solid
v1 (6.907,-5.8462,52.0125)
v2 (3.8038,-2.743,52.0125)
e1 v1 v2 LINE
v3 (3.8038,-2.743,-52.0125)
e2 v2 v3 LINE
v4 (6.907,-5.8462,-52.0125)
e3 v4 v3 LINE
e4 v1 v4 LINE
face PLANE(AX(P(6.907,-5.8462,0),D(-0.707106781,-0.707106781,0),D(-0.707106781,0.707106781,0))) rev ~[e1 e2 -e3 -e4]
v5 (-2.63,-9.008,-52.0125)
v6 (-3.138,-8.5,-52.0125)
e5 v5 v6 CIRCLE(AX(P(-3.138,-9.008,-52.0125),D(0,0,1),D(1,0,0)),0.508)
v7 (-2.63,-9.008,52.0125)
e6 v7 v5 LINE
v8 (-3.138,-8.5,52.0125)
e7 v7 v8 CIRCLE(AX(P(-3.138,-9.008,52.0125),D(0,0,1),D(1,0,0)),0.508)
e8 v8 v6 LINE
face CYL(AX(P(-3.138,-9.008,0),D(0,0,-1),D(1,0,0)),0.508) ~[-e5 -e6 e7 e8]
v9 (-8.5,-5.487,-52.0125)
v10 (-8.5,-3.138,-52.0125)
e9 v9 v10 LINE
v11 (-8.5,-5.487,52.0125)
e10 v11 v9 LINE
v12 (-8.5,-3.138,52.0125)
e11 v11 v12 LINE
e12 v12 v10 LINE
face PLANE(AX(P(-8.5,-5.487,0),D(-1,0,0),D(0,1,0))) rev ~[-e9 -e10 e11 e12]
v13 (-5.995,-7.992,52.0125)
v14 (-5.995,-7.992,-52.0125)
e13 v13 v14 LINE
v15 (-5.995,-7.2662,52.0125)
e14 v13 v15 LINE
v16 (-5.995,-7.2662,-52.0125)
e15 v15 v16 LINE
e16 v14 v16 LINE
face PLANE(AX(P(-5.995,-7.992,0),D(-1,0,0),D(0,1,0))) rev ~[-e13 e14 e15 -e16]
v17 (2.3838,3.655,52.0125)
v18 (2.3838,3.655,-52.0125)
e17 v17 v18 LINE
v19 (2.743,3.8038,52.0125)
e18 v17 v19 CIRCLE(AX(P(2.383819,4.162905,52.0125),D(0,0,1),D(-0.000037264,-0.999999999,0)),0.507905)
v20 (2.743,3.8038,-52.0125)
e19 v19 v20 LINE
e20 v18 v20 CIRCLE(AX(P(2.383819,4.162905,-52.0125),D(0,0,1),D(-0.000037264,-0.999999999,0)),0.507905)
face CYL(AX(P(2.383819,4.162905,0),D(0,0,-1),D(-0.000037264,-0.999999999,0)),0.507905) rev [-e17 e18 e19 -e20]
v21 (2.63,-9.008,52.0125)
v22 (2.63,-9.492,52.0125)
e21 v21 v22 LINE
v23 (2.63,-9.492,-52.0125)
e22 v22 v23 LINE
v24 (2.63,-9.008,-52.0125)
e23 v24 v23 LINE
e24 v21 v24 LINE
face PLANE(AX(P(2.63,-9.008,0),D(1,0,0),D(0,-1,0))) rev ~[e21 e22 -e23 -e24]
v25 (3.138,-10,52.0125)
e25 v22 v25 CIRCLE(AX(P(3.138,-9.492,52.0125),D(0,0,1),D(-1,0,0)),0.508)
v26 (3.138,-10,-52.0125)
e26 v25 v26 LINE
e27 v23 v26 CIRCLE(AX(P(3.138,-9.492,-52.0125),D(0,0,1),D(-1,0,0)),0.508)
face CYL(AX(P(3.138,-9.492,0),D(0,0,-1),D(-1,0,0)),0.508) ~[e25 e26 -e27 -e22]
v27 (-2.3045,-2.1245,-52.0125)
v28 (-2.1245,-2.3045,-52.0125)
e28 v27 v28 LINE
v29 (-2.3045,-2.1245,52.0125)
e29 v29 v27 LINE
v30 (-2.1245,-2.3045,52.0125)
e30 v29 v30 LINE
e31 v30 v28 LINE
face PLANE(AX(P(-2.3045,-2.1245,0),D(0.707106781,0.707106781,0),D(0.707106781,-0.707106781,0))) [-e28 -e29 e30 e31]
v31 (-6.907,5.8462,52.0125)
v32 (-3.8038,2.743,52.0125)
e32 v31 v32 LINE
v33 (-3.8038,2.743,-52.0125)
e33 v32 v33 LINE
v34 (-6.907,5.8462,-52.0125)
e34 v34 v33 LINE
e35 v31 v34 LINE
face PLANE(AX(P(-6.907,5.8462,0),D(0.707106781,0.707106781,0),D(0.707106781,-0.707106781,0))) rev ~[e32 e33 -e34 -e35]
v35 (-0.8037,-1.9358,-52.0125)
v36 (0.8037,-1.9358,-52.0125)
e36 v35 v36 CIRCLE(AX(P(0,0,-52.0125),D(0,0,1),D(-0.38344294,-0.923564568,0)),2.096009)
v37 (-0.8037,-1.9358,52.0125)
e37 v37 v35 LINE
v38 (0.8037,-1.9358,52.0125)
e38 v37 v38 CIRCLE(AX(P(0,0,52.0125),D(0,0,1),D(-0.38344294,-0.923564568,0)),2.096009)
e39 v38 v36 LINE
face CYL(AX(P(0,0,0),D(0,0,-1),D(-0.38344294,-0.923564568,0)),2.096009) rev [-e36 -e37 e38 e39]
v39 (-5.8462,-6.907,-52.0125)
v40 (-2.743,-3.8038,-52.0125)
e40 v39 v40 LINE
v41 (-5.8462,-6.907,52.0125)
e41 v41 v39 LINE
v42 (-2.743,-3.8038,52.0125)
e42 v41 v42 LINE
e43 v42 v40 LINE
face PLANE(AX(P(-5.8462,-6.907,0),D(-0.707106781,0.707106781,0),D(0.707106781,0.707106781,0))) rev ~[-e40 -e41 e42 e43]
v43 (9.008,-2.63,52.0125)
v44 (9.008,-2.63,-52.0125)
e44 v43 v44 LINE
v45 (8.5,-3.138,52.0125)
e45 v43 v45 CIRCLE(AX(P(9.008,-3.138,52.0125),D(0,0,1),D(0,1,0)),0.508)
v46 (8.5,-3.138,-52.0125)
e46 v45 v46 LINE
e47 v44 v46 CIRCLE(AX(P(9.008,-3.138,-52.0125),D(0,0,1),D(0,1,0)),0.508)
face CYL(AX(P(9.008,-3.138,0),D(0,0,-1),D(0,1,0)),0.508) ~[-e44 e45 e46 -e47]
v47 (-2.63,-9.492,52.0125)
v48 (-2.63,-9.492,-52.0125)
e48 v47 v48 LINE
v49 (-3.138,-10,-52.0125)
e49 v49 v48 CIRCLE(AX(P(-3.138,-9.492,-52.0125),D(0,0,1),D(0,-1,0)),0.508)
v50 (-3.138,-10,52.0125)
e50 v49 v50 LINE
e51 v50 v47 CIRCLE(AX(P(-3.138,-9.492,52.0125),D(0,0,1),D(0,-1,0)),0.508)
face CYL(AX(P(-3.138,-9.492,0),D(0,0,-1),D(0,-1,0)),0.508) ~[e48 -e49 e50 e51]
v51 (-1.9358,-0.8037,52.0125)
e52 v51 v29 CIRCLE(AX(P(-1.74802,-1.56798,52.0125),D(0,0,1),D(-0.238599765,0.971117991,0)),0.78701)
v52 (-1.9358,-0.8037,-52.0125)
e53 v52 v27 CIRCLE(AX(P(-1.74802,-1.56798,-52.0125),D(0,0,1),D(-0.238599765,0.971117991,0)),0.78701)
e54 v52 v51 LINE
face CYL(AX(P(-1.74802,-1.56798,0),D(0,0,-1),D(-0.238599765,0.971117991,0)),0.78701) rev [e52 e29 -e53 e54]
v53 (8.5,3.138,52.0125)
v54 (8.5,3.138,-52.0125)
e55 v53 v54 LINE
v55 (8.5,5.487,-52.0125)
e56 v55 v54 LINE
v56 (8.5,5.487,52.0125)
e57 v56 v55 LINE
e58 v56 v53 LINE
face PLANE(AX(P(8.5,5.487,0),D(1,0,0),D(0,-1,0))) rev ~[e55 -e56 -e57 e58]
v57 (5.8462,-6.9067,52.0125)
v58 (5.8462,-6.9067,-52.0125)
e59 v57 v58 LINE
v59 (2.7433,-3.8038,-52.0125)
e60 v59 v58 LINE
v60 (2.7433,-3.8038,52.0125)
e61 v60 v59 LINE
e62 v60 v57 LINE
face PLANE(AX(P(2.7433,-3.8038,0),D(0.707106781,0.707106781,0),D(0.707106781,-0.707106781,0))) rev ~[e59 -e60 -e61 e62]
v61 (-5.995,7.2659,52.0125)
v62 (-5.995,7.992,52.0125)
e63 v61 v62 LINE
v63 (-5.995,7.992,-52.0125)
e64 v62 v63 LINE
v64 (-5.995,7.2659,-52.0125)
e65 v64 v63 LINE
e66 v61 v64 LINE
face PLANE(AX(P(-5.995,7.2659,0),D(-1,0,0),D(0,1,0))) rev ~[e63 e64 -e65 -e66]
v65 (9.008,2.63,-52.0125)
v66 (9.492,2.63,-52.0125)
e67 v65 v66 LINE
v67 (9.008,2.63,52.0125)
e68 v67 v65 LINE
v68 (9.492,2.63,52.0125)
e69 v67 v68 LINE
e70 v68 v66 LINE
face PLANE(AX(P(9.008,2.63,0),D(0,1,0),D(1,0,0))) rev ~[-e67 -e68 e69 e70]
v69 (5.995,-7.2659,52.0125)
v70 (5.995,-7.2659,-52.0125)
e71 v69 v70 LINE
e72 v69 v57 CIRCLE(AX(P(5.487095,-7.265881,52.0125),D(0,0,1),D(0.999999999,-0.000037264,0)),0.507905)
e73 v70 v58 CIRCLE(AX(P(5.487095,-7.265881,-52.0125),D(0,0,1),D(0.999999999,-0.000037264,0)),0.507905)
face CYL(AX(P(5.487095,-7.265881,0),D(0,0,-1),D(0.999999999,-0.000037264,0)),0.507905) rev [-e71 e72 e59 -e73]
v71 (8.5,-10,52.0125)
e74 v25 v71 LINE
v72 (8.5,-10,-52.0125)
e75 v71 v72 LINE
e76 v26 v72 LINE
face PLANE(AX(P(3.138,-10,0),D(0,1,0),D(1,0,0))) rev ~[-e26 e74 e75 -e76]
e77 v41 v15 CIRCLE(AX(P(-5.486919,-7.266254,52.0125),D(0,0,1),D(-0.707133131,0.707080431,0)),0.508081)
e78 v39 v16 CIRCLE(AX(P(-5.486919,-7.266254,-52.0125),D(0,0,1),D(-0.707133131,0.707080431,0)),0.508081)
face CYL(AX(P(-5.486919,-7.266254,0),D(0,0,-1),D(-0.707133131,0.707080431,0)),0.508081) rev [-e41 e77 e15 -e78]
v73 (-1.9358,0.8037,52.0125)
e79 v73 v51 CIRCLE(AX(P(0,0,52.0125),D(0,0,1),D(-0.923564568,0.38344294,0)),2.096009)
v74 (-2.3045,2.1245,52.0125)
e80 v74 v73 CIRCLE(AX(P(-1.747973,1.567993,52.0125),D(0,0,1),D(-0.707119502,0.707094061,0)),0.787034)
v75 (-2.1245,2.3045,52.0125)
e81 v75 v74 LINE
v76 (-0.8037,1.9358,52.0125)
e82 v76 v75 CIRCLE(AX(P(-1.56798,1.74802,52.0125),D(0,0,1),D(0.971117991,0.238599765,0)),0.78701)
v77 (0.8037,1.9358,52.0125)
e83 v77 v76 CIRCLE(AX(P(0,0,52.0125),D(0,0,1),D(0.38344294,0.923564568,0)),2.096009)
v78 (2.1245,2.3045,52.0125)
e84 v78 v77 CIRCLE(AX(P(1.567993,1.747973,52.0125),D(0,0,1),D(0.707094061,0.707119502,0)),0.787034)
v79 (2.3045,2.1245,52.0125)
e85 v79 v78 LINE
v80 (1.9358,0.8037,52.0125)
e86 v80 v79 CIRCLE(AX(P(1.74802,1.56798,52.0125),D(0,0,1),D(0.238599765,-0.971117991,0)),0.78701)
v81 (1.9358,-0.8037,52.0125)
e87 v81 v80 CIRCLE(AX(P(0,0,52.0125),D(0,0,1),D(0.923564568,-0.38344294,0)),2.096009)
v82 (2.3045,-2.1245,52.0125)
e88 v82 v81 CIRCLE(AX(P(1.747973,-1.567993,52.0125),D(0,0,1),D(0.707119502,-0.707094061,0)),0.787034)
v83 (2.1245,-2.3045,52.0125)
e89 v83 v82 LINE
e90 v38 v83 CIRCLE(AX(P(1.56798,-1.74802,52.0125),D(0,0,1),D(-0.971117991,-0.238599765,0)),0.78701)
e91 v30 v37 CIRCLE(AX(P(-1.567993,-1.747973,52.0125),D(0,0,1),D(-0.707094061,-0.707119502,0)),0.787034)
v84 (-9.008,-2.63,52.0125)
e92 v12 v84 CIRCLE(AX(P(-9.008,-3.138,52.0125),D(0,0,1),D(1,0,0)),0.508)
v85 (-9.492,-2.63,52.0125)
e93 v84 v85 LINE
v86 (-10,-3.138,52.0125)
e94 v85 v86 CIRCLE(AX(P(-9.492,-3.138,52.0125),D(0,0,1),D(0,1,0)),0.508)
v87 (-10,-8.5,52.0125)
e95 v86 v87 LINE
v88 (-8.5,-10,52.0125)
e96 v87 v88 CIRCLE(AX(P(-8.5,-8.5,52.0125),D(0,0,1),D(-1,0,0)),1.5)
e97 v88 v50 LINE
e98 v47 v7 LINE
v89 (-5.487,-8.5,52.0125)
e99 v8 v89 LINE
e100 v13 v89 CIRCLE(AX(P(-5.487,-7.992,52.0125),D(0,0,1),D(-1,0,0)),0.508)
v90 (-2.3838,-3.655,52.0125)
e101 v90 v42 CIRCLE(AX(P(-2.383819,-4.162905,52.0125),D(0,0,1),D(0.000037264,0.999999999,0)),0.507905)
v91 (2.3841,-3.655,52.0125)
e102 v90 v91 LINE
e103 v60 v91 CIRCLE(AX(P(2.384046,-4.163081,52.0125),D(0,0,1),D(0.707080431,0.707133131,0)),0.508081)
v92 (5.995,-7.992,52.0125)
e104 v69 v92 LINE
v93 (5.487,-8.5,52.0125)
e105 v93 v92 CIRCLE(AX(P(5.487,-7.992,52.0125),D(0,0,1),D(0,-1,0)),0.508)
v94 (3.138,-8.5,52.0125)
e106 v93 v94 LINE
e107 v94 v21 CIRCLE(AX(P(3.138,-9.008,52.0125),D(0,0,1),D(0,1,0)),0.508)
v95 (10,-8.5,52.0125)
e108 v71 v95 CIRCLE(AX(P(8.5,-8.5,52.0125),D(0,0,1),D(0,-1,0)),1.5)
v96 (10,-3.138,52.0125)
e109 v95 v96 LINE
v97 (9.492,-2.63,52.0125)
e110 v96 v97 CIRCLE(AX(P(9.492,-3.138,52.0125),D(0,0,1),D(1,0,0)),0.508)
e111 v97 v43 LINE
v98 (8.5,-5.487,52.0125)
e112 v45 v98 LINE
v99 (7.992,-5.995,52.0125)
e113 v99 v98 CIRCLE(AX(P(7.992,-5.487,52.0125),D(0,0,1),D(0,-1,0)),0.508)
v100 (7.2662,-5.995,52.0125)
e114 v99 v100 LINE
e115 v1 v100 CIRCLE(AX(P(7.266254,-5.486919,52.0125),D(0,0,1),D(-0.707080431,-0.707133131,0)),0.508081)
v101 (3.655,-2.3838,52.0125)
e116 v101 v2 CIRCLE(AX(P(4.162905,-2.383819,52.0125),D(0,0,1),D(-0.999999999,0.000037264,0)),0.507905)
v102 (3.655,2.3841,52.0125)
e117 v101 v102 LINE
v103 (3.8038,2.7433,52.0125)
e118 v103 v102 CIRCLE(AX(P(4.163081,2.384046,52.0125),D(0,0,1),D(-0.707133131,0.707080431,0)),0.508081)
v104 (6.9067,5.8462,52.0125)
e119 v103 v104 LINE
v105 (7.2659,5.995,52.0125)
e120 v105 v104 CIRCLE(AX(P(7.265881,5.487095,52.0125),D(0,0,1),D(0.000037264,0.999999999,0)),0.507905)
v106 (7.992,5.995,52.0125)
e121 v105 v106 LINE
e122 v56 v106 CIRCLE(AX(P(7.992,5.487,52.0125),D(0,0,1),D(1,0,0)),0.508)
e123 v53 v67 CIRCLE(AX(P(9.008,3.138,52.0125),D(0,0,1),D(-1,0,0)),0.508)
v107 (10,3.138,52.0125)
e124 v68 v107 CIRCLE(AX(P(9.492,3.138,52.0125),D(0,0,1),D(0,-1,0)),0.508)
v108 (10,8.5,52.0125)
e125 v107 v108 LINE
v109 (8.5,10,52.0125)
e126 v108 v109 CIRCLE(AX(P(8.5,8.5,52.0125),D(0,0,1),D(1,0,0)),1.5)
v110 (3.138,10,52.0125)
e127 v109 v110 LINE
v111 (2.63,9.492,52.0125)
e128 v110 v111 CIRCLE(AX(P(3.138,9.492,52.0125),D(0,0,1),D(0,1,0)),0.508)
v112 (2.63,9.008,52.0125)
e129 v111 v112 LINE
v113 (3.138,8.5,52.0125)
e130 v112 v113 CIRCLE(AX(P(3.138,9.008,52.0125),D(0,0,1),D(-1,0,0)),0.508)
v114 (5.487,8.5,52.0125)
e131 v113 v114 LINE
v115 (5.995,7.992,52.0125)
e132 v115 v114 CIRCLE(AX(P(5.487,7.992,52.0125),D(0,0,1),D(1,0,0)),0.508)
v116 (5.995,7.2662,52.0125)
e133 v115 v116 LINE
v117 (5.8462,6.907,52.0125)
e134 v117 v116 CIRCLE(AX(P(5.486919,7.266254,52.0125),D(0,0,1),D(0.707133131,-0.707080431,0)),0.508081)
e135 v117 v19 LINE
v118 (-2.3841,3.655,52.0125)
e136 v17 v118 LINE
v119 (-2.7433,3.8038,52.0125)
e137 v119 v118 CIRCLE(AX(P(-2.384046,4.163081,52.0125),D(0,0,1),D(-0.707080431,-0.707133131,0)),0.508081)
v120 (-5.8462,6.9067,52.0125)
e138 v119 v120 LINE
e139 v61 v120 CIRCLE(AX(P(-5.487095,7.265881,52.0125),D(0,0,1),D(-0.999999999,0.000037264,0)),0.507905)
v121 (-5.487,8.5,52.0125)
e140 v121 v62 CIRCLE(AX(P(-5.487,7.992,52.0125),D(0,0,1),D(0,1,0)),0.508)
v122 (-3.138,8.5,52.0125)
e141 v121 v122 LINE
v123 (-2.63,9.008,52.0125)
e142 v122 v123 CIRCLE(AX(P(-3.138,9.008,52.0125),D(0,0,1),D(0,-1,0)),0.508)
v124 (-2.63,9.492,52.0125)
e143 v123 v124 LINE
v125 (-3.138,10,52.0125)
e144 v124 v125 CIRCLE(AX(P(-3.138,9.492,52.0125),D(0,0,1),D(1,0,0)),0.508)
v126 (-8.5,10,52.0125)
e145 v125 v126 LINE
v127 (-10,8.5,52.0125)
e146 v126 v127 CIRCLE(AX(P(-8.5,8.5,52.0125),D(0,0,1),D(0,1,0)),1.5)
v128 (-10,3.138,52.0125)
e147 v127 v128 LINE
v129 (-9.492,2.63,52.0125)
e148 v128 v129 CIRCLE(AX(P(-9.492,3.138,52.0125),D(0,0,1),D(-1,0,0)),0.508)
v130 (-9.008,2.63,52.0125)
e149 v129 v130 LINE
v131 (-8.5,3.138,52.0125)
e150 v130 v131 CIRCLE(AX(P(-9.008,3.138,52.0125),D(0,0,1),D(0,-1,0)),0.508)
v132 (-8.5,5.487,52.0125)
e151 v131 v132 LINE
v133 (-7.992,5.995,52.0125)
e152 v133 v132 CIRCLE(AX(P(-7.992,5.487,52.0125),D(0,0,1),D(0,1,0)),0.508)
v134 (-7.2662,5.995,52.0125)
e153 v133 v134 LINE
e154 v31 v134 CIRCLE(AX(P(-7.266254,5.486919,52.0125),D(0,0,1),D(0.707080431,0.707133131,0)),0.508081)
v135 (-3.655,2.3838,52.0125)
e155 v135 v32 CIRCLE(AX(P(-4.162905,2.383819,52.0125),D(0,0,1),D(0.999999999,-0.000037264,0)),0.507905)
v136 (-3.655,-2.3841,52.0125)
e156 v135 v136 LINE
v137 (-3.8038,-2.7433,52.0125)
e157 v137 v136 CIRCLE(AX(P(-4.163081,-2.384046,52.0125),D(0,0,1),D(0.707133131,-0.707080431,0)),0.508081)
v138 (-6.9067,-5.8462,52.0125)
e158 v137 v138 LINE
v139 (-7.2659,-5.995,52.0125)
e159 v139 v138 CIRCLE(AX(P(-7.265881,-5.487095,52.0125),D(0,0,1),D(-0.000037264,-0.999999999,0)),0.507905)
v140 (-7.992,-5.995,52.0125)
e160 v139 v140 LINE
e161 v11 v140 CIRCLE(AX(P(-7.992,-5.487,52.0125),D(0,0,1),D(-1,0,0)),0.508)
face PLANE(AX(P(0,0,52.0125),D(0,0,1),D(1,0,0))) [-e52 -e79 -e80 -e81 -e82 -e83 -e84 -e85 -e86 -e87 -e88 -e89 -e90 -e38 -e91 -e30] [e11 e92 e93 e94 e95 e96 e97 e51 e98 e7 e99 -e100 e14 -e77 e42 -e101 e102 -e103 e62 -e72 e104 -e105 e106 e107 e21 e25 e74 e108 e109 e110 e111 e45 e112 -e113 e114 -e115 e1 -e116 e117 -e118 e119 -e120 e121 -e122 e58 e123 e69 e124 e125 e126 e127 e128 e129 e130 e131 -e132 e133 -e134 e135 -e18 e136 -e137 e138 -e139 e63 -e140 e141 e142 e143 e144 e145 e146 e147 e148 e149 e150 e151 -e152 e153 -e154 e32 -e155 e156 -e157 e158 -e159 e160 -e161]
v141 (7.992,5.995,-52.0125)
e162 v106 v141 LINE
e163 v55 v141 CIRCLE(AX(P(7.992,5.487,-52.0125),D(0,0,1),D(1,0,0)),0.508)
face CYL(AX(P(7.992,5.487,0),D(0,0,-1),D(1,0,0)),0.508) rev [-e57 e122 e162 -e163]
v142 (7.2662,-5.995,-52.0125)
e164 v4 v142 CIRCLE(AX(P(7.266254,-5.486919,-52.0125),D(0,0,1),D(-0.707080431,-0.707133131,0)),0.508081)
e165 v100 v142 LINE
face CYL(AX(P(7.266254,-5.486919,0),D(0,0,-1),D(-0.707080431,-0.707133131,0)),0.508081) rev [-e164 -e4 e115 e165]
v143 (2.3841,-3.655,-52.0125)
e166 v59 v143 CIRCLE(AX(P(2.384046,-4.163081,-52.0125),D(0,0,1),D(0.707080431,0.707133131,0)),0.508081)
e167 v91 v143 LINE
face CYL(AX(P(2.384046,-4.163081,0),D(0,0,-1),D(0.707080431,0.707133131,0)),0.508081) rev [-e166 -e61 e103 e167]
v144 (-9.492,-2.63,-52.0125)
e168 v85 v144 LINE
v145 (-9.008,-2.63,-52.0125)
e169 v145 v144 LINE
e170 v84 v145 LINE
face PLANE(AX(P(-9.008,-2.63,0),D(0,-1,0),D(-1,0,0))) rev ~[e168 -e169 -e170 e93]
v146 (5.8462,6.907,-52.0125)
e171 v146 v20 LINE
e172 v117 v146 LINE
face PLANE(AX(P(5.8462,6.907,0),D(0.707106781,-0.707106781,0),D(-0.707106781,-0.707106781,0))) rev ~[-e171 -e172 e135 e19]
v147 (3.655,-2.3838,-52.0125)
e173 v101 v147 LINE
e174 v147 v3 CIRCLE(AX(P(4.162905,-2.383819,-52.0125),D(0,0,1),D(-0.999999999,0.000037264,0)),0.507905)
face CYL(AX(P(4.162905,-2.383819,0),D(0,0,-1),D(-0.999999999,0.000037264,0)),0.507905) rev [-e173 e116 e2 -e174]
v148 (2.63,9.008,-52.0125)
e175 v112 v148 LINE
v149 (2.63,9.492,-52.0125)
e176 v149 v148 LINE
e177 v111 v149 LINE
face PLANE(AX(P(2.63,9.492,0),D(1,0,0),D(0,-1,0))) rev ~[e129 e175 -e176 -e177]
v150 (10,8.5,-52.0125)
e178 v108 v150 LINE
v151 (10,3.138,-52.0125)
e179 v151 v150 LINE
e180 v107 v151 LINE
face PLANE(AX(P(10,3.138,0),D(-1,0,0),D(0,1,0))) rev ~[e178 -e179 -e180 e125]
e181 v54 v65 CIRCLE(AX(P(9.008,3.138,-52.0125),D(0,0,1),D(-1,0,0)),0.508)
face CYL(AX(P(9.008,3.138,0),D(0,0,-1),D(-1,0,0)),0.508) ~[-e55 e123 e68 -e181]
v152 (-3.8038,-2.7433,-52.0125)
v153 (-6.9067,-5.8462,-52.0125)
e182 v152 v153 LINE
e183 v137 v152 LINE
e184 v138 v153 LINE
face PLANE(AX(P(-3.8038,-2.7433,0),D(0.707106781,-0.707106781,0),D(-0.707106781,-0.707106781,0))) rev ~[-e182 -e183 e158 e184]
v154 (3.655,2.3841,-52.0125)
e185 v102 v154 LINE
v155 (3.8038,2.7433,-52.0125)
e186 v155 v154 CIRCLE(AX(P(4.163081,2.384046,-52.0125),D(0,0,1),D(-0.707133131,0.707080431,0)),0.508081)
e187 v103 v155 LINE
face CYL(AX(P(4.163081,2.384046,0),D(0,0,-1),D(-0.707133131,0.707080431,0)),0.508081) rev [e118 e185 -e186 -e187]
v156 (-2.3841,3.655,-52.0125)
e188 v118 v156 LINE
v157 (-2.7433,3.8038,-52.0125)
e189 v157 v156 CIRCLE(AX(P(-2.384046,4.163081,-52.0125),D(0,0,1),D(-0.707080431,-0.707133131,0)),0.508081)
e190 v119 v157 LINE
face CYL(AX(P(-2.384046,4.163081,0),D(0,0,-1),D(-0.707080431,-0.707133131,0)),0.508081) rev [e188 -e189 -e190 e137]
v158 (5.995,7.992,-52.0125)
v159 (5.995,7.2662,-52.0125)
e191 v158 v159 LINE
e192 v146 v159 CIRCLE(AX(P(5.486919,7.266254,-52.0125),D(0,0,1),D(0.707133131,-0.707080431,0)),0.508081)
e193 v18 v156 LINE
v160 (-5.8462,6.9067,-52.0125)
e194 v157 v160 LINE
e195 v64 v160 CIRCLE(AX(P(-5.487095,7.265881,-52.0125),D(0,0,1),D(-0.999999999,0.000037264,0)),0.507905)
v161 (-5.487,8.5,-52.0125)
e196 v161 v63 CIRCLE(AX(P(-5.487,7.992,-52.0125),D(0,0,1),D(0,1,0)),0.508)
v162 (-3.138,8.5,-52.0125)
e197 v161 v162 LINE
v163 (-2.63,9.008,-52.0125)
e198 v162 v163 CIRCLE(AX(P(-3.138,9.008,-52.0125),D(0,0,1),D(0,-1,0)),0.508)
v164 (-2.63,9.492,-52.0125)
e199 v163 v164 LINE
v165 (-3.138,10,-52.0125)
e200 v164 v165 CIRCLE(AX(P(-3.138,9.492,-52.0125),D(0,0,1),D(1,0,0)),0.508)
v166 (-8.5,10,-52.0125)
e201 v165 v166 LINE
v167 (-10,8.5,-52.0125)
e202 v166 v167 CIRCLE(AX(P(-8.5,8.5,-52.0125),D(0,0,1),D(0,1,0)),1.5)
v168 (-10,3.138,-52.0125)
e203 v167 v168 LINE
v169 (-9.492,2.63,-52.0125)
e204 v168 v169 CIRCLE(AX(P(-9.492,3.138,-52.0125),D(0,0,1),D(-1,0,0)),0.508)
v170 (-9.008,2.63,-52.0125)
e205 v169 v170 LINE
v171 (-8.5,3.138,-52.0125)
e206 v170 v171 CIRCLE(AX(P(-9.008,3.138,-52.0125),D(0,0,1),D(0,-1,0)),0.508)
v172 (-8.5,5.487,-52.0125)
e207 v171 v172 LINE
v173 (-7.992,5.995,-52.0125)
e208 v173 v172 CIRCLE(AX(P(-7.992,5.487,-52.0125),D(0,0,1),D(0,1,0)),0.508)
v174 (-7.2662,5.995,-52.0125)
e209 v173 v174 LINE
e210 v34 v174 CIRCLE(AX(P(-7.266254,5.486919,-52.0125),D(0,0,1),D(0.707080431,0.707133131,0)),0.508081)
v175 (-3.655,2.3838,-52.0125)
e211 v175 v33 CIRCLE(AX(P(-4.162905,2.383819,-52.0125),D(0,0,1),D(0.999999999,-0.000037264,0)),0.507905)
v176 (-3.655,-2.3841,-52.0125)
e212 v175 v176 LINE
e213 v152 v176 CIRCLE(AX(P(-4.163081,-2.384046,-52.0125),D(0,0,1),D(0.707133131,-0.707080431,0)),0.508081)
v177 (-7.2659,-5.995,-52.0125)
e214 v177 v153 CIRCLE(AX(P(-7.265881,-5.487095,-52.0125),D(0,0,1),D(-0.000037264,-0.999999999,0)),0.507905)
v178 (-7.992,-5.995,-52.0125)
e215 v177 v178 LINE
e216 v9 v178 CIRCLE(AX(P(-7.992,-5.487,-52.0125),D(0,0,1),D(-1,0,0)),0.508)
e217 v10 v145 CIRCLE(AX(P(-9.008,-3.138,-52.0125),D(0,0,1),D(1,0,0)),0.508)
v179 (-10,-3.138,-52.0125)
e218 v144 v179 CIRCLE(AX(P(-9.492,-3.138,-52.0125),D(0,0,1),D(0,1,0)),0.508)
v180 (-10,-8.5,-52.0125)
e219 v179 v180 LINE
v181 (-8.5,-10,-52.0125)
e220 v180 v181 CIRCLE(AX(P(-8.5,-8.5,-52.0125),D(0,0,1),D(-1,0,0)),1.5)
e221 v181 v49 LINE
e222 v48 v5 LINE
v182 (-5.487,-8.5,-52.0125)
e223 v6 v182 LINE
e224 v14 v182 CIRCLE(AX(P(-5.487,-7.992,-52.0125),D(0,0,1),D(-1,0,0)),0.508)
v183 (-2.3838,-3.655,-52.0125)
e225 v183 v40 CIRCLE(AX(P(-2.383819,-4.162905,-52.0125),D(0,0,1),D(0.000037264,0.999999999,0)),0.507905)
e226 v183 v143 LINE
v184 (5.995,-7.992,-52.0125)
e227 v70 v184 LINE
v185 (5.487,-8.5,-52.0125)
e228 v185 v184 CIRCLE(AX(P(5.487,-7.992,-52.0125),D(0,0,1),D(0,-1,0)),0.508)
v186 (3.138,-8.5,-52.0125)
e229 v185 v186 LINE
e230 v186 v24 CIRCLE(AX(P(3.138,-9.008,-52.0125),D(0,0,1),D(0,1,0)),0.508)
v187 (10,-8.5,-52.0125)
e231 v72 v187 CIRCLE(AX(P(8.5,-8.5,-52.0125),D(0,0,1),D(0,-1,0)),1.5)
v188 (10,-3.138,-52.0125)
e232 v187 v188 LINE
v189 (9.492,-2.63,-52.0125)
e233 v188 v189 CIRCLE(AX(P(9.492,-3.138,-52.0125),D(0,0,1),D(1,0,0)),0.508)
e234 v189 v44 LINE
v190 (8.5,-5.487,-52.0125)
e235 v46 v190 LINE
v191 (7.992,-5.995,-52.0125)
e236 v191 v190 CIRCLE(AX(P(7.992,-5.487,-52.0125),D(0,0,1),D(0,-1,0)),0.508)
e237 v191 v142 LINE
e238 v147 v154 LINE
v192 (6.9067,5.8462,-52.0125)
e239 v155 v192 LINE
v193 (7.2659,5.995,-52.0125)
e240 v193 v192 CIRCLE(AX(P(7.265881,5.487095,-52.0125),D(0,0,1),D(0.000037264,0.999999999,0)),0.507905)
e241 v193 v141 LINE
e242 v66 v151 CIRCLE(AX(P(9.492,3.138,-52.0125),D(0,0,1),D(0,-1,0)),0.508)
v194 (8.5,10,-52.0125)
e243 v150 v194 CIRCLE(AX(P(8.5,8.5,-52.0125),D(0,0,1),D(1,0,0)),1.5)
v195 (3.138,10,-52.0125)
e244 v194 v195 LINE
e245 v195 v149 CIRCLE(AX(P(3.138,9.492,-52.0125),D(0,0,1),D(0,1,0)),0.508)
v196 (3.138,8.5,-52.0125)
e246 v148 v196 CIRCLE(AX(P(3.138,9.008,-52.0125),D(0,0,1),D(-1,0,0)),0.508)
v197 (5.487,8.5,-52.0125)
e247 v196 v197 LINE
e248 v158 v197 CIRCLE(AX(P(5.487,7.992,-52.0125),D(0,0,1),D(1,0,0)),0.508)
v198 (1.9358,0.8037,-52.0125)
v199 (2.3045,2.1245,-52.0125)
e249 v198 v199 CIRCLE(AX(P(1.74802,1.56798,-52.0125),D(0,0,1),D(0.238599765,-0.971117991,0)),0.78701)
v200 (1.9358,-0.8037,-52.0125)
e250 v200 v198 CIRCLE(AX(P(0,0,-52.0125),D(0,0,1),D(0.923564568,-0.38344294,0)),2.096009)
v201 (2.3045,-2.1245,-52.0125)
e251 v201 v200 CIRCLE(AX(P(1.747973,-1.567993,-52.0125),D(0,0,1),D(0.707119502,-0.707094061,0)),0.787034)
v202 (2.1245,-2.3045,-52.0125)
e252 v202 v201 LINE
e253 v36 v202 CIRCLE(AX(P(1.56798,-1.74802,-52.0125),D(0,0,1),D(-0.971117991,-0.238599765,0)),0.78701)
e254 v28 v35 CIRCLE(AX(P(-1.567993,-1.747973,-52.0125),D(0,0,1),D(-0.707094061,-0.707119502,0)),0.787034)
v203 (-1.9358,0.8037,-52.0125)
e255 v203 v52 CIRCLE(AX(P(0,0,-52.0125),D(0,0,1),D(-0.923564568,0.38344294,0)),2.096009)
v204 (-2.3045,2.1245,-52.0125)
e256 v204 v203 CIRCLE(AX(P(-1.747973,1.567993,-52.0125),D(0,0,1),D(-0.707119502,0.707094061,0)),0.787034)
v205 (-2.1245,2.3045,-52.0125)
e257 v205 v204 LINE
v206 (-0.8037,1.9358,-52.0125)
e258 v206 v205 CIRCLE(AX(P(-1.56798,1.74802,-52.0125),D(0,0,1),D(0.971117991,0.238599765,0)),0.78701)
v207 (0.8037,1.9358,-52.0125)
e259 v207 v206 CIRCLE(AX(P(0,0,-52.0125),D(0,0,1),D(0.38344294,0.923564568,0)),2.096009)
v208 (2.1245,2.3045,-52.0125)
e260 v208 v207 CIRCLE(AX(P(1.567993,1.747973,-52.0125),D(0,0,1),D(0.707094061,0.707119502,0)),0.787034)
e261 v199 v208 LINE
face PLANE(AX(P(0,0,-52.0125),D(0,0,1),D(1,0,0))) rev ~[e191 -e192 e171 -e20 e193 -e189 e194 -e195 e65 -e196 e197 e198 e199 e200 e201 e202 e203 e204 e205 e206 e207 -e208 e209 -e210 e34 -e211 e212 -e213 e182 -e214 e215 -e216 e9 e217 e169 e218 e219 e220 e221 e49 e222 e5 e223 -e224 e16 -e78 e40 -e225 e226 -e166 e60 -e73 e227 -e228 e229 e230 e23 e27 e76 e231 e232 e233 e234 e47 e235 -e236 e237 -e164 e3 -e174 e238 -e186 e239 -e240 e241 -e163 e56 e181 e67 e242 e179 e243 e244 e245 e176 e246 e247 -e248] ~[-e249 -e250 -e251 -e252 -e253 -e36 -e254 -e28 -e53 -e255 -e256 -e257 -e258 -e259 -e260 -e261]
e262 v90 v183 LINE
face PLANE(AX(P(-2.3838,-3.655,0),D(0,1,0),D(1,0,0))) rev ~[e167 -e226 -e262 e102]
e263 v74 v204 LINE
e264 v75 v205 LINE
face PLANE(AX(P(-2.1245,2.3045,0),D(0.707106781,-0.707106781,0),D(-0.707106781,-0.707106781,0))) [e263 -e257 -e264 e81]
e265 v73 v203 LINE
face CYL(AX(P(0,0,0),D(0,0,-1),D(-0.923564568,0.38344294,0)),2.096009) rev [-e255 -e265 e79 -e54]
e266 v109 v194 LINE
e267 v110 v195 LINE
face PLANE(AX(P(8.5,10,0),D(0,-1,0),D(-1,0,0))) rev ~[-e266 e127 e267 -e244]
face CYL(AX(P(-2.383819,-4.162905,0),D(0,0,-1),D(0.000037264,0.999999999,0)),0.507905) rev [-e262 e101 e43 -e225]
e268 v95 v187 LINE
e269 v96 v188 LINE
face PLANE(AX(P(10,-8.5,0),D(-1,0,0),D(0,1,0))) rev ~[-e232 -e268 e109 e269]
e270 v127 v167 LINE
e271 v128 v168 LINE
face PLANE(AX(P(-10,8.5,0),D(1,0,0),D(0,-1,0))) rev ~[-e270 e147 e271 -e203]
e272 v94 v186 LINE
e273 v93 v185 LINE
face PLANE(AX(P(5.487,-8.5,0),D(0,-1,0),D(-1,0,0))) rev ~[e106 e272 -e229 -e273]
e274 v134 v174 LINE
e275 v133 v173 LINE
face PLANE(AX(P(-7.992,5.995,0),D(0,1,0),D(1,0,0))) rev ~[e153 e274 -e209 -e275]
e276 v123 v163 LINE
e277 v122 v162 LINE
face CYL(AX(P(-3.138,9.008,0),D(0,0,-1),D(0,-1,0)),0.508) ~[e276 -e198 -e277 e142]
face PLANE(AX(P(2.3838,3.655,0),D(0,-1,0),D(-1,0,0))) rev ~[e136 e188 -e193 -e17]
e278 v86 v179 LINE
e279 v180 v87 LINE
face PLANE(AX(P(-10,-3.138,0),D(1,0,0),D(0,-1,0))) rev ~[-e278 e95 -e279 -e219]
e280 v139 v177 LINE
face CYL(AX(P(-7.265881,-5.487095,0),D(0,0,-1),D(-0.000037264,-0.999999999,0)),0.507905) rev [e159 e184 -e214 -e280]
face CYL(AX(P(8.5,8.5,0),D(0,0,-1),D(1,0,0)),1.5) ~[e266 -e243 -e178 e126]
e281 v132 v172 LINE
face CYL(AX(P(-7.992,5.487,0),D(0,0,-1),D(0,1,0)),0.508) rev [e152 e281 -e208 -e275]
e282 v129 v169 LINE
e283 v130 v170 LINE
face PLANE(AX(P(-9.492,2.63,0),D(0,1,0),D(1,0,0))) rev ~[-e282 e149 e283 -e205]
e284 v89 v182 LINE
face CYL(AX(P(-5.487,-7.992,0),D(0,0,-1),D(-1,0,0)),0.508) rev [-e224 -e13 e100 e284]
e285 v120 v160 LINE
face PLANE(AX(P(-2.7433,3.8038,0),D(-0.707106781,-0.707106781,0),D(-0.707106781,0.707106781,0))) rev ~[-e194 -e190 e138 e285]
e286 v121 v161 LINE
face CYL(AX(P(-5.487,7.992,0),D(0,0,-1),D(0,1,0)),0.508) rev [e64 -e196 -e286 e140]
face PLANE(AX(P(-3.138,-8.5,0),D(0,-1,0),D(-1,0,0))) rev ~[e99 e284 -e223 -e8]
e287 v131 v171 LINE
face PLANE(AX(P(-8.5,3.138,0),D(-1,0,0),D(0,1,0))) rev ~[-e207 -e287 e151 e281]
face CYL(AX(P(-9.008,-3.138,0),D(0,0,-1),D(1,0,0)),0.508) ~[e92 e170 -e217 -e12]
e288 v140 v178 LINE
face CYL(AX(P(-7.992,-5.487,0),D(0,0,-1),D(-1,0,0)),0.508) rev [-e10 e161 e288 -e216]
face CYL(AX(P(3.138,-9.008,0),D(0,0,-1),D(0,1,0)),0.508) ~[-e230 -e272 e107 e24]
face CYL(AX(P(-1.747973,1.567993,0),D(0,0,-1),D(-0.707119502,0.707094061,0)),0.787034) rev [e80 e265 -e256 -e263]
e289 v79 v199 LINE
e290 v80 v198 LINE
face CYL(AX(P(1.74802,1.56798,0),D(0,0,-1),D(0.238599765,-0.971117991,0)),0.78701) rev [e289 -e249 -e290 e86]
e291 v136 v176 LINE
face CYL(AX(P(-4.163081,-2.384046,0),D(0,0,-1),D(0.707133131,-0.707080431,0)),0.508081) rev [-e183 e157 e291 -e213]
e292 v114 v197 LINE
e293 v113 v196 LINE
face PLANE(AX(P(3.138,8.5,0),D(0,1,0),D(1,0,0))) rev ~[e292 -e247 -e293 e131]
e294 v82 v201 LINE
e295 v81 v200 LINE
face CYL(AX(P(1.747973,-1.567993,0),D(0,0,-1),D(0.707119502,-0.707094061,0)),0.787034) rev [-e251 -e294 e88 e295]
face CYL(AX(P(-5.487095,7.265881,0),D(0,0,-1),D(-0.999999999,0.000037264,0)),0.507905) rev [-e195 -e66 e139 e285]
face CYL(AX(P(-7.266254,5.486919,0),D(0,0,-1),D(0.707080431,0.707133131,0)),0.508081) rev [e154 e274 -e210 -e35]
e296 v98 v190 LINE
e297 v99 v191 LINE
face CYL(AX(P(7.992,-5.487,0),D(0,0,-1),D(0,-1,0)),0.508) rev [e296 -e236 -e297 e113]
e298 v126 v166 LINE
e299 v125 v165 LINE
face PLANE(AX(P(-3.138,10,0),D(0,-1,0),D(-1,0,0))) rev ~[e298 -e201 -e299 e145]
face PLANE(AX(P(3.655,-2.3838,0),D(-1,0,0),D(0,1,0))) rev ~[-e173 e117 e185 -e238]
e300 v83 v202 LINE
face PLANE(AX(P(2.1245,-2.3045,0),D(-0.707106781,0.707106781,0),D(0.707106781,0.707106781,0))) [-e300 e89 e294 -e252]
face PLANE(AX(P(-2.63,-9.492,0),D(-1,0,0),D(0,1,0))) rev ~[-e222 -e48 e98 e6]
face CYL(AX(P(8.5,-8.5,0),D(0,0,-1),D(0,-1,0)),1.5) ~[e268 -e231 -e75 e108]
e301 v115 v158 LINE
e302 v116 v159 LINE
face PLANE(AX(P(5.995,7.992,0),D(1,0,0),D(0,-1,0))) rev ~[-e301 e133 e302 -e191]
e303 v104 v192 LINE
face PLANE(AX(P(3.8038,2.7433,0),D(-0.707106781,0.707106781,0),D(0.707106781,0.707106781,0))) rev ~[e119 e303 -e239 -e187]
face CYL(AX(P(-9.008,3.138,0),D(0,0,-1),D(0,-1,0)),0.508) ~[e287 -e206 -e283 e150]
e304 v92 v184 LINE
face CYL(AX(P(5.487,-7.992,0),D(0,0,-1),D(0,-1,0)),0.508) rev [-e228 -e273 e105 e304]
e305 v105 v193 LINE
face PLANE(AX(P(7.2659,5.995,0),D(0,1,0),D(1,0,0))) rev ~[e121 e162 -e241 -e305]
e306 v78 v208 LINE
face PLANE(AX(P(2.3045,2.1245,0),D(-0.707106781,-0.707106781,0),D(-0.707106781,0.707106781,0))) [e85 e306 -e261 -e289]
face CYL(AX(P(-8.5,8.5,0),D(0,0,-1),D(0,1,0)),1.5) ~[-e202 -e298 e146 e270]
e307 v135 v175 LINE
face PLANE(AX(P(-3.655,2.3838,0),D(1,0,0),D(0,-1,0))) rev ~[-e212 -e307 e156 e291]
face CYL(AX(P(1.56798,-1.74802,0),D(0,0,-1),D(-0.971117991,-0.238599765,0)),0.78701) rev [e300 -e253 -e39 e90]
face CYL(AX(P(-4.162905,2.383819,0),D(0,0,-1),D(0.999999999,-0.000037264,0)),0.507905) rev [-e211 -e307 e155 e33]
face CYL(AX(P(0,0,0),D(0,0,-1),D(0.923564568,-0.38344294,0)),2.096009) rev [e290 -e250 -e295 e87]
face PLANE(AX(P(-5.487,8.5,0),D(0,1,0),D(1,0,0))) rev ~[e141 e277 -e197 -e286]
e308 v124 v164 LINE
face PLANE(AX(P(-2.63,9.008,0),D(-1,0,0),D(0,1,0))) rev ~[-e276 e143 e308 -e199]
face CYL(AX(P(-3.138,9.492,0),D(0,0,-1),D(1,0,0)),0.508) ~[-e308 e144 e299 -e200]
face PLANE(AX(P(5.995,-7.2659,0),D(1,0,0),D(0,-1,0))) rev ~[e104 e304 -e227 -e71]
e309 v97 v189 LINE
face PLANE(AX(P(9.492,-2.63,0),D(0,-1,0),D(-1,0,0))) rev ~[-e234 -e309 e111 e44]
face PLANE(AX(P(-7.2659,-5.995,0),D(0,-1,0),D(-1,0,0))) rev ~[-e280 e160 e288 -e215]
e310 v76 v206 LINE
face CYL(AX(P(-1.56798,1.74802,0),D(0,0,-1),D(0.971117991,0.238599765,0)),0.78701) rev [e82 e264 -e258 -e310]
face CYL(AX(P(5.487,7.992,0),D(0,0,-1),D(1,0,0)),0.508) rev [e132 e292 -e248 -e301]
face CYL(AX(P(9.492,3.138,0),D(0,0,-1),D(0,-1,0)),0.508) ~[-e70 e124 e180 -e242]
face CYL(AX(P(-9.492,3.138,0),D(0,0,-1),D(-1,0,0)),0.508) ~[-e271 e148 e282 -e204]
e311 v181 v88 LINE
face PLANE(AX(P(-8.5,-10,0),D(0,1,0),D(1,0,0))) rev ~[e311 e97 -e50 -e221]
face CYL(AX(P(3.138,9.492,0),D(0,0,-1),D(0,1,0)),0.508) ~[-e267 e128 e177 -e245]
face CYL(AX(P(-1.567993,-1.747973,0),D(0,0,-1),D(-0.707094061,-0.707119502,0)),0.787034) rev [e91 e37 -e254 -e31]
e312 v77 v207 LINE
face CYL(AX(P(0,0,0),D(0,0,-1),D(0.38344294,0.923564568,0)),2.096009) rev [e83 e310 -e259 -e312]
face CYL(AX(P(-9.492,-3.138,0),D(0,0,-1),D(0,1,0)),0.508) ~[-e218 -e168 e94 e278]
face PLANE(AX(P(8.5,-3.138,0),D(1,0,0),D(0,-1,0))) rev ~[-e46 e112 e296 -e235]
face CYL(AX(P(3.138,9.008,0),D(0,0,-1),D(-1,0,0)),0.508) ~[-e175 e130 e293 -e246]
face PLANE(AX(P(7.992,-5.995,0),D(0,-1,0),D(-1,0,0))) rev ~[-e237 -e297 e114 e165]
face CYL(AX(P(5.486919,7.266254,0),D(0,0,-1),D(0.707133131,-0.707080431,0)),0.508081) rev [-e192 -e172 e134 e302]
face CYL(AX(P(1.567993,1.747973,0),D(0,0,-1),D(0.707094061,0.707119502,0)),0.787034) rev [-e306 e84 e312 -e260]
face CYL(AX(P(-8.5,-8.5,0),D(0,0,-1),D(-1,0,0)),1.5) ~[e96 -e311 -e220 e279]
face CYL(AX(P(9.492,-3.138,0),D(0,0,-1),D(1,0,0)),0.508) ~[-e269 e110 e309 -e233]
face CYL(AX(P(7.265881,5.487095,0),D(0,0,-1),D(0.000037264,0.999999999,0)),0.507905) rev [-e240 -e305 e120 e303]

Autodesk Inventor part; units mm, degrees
ref_plane "YZ Plane" through (0, 0, 0) normal (1, 0, 0) x (0, 1, 0)
ref_plane "XZ Plane" through (0, 0, 0) normal (0, 1, 0) x (-1, 0, 0)
ref_plane "XY Plane" through (0, 0, 0) normal (0, 0, 1) x (1, 0, 0)
sketch "Sketch1" plane through (0, 0, 0) normal (0, 0, 1) x (1, 0, 0)
  arc A0 (-10, -8.5) -> (-8.5, -10) centre (-8.5, -8.5) ccw
  line L0 (-8.5, -10) -> (-3.138, -10)
  arc A1 (-3.138, -10) -> (-2.63, -9.492) centre (-3.138, -9.492) ccw
  line L1 (-2.63, -9.492) -> (-2.63, -9.008)
  arc A2 (-2.63, -9.008) -> (-3.138, -8.5) centre (-3.138, -9.008) ccw
  line L2 (-3.138, -8.5) -> (-5.487, -8.5)
  arc A3 (-5.995, -7.992) -> (-5.487, -8.5) centre (-5.487, -7.992) ccw
  line L3 (-5.995, -7.992) -> (-5.995, -7.2662)
  arc A4 (-5.8462, -6.907) -> (-5.995, -7.2662) centre (-5.487, -7.2662) ccw
  line L4 (-5.8462, -6.907) -> (-2.743, -3.8038)
  arc A5 (-2.3838, -3.655) -> (-2.743, -3.8038) centre (-2.3838, -4.163) ccw
  line L5 (-2.3838, -3.655) -> (2.3841, -3.655)
  arc A6 (2.7433, -3.8038) -> (2.3841, -3.655) centre (2.3841, -4.163) ccw
  line L6 (2.7433, -3.8038) -> (5.8462, -6.9067)
  arc A7 (5.995, -7.2659) -> (5.8462, -6.9067) centre (5.487, -7.2659) ccw
  line L7 (5.995, -7.2659) -> (5.995, -7.992)
  arc A8 (5.487, -8.5) -> (5.995, -7.992) centre (5.487, -7.992) ccw
  line L8 (5.487, -8.5) -> (3.138, -8.5)
  arc A9 (3.138, -8.5) -> (2.63, -9.008) centre (3.138, -9.008) ccw
  line L9 (2.63, -9.008) -> (2.63, -9.492)
  arc A10 (2.63, -9.492) -> (3.138, -10) centre (3.138, -9.492) ccw
  line L10 (3.138, -10) -> (8.5, -10)
  arc A11 (8.5, -10) -> (10, -8.5) centre (8.5, -8.5) ccw
  line L11 (10, -8.5) -> (10, -3.138)
  arc A12 (10, -3.138) -> (9.492, -2.63) centre (9.492, -3.138) ccw
  line L12 (9.492, -2.63) -> (9.008, -2.63)
  arc A13 (9.008, -2.63) -> (8.5, -3.138) centre (9.008, -3.138) ccw
  line L13 (8.5, -3.138) -> (8.5, -5.487)
  arc A14 (7.992, -5.995) -> (8.5, -5.487) centre (7.992, -5.487) ccw
  line L14 (7.992, -5.995) -> (7.2662, -5.995)
  arc A15 (6.907, -5.8462) -> (7.2662, -5.995) centre (7.2662, -5.487) ccw
  line L15 (6.907, -5.8462) -> (3.8038, -2.743)
  arc A16 (3.655, -2.3838) -> (3.8038, -2.743) centre (4.163, -2.3838) ccw
  line L16 (3.655, -2.3838) -> (3.655, 2.3841)
  arc A17 (3.8038, 2.7433) -> (3.655, 2.3841) centre (4.163, 2.3841) ccw
  line L17 (3.8038, 2.7433) -> (6.9067, 5.8462)
  arc A18 (7.2659, 5.995) -> (6.9067, 5.8462) centre (7.2659, 5.487) ccw
  line L18 (7.2659, 5.995) -> (7.992, 5.995)
  arc A19 (8.5, 5.487) -> (7.992, 5.995) centre (7.992, 5.487) ccw
  line L19 (8.5, 5.487) -> (8.5, 3.138)
  arc A20 (8.5, 3.138) -> (9.008, 2.63) centre (9.008, 3.138) ccw
  line L20 (9.008, 2.63) -> (9.492, 2.63)
  arc A21 (9.492, 2.63) -> (10, 3.138) centre (9.492, 3.138) ccw
  line L21 (10, 3.138) -> (10, 8.5)
  arc A22 (10, 8.5) -> (8.5, 10) centre (8.5, 8.5) ccw
  line L22 (8.5, 10) -> (3.138, 10)
  arc A23 (3.138, 10) -> (2.63, 9.492) centre (3.138, 9.492) ccw
  line L23 (2.63, 9.492) -> (2.63, 9.008)
  arc A24 (2.63, 9.008) -> (3.138, 8.5) centre (3.138, 9.008) ccw
  line L24 (3.138, 8.5) -> (5.487, 8.5)
  arc A25 (5.995, 7.992) -> (5.487, 8.5) centre (5.487, 7.992) ccw
  line L25 (5.995, 7.992) -> (5.995, 7.2662)
  arc A26 (5.8462, 6.907) -> (5.995, 7.2662) centre (5.487, 7.2662) ccw
  line L26 (5.8462, 6.907) -> (2.743, 3.8038)
  arc A27 (2.3838, 3.655) -> (2.743, 3.8038) centre (2.3838, 4.163) ccw
  line L27 (2.3838, 3.655) -> (-2.3841, 3.655)
  arc A28 (-2.7433, 3.8038) -> (-2.3841, 3.655) centre (-2.3841, 4.163) ccw
  line L28 (-2.7433, 3.8038) -> (-5.8462, 6.9067)
  arc A29 (-5.995, 7.2659) -> (-5.8462, 6.9067) centre (-5.487, 7.2659) ccw
  line L29 (-5.995, 7.2659) -> (-5.995, 7.992)
  arc A30 (-5.487, 8.5) -> (-5.995, 7.992) centre (-5.487, 7.992) ccw
  line L30 (-5.487, 8.5) -> (-3.138, 8.5)
  arc A31 (-3.138, 8.5) -> (-2.63, 9.008) centre (-3.138, 9.008) ccw
  line L31 (-2.63, 9.008) -> (-2.63, 9.492)
  arc A32 (-2.63, 9.492) -> (-3.138, 10) centre (-3.138, 9.492) ccw
  line L32 (-3.138, 10) -> (-8.5, 10)
  arc A33 (-8.5, 10) -> (-10, 8.5) centre (-8.5, 8.5) ccw
  line L33 (-10, 8.5) -> (-10, 3.138)
  arc A34 (-10, 3.138) -> (-9.492, 2.63) centre (-9.492, 3.138) ccw
  line L34 (-9.492, 2.63) -> (-9.008, 2.63)
  arc A35 (-9.008, 2.63) -> (-8.5, 3.138) centre (-9.008, 3.138) ccw
  line L35 (-8.5, 3.138) -> (-8.5, 5.487)
  arc A36 (-7.992, 5.995) -> (-8.5, 5.487) centre (-7.992, 5.487) ccw
  line L36 (-7.992, 5.995) -> (-7.2662, 5.995)
  arc A37 (-6.907, 5.8462) -> (-7.2662, 5.995) centre (-7.2662, 5.487) ccw
  line L37 (-6.907, 5.8462) -> (-3.8038, 2.743)
  arc A38 (-3.655, 2.3838) -> (-3.8038, 2.743) centre (-4.163, 2.3838) ccw
  line L38 (-3.655, 2.3838) -> (-3.655, -2.3841)
  arc A39 (-3.8038, -2.7433) -> (-3.655, -2.3841) centre (-4.163, -2.3841) ccw
  line L39 (-3.8038, -2.7433) -> (-6.9067, -5.8462)
  arc A40 (-7.2659, -5.995) -> (-6.9067, -5.8462) centre (-7.2659, -5.487) ccw
  line L40 (-7.2659, -5.995) -> (-7.992, -5.995)
  arc A41 (-8.5, -5.487) -> (-7.992, -5.995) centre (-7.992, -5.487) ccw
  line L41 (-8.5, -5.487) -> (-8.5, -3.138)
  arc A42 (-8.5, -3.138) -> (-9.008, -2.63) centre (-9.008, -3.138) ccw
  line L42 (-9.008, -2.63) -> (-9.492, -2.63)
  arc A43 (-9.492, -2.63) -> (-10, -3.138) centre (-9.492, -3.138) ccw
  line L43 (-10, -3.138) -> (-10, -8.5)
  arc A44 (-1.9358, -0.8037) -> (-2.3045, -2.1245) centre (-1.748, -1.568) ccw
  line L44 (-2.3045, -2.1245) -> (-2.1245, -2.3045)
  arc A45 (-2.1245, -2.3045) -> (-0.8037, -1.9358) centre (-1.568, -1.748) ccw
  arc A46 (-0.8037, -1.9358) -> (0.8037, -1.9358) centre (0, 0) ccw
  arc A47 (0.8037, -1.9358) -> (2.1245, -2.3045) centre (1.568, -1.748) ccw
  line L45 (2.1245, -2.3045) -> (2.3045, -2.1245)
  arc A48 (2.3045, -2.1245) -> (1.9358, -0.8037) centre (1.748, -1.568) ccw
  arc A49 (1.9358, -0.8037) -> (1.9358, 0.8037) centre (0, 0) ccw
  arc A50 (1.9358, 0.8037) -> (2.3045, 2.1245) centre (1.748, 1.568) ccw
  line L46 (2.3045, 2.1245) -> (2.1245, 2.3045)
  arc A51 (2.1245, 2.3045) -> (0.8037, 1.9358) centre (1.568, 1.748) ccw
  arc A52 (0.8037, 1.9358) -> (-0.8037, 1.9358) centre (0, 0) ccw
  arc A53 (-0.8037, 1.9358) -> (-2.1245, 2.3045) centre (-1.568, 1.748) ccw
  line L47 (-2.1245, 2.3045) -> (-2.3045, 2.1245)
  arc A54 (-2.3045, 2.1245) -> (-1.9358, 0.8037) centre (-1.748, 1.568) ccw
  arc A55 (-1.9358, 0.8037) -> (-1.9358, -0.8037) centre (0, 0) ccw
  point P0 (0, 0)
extrude "Extrusion1" add sketch "Sketch1" along normal mid plane 104.025
properties part number "20-2020-285"
